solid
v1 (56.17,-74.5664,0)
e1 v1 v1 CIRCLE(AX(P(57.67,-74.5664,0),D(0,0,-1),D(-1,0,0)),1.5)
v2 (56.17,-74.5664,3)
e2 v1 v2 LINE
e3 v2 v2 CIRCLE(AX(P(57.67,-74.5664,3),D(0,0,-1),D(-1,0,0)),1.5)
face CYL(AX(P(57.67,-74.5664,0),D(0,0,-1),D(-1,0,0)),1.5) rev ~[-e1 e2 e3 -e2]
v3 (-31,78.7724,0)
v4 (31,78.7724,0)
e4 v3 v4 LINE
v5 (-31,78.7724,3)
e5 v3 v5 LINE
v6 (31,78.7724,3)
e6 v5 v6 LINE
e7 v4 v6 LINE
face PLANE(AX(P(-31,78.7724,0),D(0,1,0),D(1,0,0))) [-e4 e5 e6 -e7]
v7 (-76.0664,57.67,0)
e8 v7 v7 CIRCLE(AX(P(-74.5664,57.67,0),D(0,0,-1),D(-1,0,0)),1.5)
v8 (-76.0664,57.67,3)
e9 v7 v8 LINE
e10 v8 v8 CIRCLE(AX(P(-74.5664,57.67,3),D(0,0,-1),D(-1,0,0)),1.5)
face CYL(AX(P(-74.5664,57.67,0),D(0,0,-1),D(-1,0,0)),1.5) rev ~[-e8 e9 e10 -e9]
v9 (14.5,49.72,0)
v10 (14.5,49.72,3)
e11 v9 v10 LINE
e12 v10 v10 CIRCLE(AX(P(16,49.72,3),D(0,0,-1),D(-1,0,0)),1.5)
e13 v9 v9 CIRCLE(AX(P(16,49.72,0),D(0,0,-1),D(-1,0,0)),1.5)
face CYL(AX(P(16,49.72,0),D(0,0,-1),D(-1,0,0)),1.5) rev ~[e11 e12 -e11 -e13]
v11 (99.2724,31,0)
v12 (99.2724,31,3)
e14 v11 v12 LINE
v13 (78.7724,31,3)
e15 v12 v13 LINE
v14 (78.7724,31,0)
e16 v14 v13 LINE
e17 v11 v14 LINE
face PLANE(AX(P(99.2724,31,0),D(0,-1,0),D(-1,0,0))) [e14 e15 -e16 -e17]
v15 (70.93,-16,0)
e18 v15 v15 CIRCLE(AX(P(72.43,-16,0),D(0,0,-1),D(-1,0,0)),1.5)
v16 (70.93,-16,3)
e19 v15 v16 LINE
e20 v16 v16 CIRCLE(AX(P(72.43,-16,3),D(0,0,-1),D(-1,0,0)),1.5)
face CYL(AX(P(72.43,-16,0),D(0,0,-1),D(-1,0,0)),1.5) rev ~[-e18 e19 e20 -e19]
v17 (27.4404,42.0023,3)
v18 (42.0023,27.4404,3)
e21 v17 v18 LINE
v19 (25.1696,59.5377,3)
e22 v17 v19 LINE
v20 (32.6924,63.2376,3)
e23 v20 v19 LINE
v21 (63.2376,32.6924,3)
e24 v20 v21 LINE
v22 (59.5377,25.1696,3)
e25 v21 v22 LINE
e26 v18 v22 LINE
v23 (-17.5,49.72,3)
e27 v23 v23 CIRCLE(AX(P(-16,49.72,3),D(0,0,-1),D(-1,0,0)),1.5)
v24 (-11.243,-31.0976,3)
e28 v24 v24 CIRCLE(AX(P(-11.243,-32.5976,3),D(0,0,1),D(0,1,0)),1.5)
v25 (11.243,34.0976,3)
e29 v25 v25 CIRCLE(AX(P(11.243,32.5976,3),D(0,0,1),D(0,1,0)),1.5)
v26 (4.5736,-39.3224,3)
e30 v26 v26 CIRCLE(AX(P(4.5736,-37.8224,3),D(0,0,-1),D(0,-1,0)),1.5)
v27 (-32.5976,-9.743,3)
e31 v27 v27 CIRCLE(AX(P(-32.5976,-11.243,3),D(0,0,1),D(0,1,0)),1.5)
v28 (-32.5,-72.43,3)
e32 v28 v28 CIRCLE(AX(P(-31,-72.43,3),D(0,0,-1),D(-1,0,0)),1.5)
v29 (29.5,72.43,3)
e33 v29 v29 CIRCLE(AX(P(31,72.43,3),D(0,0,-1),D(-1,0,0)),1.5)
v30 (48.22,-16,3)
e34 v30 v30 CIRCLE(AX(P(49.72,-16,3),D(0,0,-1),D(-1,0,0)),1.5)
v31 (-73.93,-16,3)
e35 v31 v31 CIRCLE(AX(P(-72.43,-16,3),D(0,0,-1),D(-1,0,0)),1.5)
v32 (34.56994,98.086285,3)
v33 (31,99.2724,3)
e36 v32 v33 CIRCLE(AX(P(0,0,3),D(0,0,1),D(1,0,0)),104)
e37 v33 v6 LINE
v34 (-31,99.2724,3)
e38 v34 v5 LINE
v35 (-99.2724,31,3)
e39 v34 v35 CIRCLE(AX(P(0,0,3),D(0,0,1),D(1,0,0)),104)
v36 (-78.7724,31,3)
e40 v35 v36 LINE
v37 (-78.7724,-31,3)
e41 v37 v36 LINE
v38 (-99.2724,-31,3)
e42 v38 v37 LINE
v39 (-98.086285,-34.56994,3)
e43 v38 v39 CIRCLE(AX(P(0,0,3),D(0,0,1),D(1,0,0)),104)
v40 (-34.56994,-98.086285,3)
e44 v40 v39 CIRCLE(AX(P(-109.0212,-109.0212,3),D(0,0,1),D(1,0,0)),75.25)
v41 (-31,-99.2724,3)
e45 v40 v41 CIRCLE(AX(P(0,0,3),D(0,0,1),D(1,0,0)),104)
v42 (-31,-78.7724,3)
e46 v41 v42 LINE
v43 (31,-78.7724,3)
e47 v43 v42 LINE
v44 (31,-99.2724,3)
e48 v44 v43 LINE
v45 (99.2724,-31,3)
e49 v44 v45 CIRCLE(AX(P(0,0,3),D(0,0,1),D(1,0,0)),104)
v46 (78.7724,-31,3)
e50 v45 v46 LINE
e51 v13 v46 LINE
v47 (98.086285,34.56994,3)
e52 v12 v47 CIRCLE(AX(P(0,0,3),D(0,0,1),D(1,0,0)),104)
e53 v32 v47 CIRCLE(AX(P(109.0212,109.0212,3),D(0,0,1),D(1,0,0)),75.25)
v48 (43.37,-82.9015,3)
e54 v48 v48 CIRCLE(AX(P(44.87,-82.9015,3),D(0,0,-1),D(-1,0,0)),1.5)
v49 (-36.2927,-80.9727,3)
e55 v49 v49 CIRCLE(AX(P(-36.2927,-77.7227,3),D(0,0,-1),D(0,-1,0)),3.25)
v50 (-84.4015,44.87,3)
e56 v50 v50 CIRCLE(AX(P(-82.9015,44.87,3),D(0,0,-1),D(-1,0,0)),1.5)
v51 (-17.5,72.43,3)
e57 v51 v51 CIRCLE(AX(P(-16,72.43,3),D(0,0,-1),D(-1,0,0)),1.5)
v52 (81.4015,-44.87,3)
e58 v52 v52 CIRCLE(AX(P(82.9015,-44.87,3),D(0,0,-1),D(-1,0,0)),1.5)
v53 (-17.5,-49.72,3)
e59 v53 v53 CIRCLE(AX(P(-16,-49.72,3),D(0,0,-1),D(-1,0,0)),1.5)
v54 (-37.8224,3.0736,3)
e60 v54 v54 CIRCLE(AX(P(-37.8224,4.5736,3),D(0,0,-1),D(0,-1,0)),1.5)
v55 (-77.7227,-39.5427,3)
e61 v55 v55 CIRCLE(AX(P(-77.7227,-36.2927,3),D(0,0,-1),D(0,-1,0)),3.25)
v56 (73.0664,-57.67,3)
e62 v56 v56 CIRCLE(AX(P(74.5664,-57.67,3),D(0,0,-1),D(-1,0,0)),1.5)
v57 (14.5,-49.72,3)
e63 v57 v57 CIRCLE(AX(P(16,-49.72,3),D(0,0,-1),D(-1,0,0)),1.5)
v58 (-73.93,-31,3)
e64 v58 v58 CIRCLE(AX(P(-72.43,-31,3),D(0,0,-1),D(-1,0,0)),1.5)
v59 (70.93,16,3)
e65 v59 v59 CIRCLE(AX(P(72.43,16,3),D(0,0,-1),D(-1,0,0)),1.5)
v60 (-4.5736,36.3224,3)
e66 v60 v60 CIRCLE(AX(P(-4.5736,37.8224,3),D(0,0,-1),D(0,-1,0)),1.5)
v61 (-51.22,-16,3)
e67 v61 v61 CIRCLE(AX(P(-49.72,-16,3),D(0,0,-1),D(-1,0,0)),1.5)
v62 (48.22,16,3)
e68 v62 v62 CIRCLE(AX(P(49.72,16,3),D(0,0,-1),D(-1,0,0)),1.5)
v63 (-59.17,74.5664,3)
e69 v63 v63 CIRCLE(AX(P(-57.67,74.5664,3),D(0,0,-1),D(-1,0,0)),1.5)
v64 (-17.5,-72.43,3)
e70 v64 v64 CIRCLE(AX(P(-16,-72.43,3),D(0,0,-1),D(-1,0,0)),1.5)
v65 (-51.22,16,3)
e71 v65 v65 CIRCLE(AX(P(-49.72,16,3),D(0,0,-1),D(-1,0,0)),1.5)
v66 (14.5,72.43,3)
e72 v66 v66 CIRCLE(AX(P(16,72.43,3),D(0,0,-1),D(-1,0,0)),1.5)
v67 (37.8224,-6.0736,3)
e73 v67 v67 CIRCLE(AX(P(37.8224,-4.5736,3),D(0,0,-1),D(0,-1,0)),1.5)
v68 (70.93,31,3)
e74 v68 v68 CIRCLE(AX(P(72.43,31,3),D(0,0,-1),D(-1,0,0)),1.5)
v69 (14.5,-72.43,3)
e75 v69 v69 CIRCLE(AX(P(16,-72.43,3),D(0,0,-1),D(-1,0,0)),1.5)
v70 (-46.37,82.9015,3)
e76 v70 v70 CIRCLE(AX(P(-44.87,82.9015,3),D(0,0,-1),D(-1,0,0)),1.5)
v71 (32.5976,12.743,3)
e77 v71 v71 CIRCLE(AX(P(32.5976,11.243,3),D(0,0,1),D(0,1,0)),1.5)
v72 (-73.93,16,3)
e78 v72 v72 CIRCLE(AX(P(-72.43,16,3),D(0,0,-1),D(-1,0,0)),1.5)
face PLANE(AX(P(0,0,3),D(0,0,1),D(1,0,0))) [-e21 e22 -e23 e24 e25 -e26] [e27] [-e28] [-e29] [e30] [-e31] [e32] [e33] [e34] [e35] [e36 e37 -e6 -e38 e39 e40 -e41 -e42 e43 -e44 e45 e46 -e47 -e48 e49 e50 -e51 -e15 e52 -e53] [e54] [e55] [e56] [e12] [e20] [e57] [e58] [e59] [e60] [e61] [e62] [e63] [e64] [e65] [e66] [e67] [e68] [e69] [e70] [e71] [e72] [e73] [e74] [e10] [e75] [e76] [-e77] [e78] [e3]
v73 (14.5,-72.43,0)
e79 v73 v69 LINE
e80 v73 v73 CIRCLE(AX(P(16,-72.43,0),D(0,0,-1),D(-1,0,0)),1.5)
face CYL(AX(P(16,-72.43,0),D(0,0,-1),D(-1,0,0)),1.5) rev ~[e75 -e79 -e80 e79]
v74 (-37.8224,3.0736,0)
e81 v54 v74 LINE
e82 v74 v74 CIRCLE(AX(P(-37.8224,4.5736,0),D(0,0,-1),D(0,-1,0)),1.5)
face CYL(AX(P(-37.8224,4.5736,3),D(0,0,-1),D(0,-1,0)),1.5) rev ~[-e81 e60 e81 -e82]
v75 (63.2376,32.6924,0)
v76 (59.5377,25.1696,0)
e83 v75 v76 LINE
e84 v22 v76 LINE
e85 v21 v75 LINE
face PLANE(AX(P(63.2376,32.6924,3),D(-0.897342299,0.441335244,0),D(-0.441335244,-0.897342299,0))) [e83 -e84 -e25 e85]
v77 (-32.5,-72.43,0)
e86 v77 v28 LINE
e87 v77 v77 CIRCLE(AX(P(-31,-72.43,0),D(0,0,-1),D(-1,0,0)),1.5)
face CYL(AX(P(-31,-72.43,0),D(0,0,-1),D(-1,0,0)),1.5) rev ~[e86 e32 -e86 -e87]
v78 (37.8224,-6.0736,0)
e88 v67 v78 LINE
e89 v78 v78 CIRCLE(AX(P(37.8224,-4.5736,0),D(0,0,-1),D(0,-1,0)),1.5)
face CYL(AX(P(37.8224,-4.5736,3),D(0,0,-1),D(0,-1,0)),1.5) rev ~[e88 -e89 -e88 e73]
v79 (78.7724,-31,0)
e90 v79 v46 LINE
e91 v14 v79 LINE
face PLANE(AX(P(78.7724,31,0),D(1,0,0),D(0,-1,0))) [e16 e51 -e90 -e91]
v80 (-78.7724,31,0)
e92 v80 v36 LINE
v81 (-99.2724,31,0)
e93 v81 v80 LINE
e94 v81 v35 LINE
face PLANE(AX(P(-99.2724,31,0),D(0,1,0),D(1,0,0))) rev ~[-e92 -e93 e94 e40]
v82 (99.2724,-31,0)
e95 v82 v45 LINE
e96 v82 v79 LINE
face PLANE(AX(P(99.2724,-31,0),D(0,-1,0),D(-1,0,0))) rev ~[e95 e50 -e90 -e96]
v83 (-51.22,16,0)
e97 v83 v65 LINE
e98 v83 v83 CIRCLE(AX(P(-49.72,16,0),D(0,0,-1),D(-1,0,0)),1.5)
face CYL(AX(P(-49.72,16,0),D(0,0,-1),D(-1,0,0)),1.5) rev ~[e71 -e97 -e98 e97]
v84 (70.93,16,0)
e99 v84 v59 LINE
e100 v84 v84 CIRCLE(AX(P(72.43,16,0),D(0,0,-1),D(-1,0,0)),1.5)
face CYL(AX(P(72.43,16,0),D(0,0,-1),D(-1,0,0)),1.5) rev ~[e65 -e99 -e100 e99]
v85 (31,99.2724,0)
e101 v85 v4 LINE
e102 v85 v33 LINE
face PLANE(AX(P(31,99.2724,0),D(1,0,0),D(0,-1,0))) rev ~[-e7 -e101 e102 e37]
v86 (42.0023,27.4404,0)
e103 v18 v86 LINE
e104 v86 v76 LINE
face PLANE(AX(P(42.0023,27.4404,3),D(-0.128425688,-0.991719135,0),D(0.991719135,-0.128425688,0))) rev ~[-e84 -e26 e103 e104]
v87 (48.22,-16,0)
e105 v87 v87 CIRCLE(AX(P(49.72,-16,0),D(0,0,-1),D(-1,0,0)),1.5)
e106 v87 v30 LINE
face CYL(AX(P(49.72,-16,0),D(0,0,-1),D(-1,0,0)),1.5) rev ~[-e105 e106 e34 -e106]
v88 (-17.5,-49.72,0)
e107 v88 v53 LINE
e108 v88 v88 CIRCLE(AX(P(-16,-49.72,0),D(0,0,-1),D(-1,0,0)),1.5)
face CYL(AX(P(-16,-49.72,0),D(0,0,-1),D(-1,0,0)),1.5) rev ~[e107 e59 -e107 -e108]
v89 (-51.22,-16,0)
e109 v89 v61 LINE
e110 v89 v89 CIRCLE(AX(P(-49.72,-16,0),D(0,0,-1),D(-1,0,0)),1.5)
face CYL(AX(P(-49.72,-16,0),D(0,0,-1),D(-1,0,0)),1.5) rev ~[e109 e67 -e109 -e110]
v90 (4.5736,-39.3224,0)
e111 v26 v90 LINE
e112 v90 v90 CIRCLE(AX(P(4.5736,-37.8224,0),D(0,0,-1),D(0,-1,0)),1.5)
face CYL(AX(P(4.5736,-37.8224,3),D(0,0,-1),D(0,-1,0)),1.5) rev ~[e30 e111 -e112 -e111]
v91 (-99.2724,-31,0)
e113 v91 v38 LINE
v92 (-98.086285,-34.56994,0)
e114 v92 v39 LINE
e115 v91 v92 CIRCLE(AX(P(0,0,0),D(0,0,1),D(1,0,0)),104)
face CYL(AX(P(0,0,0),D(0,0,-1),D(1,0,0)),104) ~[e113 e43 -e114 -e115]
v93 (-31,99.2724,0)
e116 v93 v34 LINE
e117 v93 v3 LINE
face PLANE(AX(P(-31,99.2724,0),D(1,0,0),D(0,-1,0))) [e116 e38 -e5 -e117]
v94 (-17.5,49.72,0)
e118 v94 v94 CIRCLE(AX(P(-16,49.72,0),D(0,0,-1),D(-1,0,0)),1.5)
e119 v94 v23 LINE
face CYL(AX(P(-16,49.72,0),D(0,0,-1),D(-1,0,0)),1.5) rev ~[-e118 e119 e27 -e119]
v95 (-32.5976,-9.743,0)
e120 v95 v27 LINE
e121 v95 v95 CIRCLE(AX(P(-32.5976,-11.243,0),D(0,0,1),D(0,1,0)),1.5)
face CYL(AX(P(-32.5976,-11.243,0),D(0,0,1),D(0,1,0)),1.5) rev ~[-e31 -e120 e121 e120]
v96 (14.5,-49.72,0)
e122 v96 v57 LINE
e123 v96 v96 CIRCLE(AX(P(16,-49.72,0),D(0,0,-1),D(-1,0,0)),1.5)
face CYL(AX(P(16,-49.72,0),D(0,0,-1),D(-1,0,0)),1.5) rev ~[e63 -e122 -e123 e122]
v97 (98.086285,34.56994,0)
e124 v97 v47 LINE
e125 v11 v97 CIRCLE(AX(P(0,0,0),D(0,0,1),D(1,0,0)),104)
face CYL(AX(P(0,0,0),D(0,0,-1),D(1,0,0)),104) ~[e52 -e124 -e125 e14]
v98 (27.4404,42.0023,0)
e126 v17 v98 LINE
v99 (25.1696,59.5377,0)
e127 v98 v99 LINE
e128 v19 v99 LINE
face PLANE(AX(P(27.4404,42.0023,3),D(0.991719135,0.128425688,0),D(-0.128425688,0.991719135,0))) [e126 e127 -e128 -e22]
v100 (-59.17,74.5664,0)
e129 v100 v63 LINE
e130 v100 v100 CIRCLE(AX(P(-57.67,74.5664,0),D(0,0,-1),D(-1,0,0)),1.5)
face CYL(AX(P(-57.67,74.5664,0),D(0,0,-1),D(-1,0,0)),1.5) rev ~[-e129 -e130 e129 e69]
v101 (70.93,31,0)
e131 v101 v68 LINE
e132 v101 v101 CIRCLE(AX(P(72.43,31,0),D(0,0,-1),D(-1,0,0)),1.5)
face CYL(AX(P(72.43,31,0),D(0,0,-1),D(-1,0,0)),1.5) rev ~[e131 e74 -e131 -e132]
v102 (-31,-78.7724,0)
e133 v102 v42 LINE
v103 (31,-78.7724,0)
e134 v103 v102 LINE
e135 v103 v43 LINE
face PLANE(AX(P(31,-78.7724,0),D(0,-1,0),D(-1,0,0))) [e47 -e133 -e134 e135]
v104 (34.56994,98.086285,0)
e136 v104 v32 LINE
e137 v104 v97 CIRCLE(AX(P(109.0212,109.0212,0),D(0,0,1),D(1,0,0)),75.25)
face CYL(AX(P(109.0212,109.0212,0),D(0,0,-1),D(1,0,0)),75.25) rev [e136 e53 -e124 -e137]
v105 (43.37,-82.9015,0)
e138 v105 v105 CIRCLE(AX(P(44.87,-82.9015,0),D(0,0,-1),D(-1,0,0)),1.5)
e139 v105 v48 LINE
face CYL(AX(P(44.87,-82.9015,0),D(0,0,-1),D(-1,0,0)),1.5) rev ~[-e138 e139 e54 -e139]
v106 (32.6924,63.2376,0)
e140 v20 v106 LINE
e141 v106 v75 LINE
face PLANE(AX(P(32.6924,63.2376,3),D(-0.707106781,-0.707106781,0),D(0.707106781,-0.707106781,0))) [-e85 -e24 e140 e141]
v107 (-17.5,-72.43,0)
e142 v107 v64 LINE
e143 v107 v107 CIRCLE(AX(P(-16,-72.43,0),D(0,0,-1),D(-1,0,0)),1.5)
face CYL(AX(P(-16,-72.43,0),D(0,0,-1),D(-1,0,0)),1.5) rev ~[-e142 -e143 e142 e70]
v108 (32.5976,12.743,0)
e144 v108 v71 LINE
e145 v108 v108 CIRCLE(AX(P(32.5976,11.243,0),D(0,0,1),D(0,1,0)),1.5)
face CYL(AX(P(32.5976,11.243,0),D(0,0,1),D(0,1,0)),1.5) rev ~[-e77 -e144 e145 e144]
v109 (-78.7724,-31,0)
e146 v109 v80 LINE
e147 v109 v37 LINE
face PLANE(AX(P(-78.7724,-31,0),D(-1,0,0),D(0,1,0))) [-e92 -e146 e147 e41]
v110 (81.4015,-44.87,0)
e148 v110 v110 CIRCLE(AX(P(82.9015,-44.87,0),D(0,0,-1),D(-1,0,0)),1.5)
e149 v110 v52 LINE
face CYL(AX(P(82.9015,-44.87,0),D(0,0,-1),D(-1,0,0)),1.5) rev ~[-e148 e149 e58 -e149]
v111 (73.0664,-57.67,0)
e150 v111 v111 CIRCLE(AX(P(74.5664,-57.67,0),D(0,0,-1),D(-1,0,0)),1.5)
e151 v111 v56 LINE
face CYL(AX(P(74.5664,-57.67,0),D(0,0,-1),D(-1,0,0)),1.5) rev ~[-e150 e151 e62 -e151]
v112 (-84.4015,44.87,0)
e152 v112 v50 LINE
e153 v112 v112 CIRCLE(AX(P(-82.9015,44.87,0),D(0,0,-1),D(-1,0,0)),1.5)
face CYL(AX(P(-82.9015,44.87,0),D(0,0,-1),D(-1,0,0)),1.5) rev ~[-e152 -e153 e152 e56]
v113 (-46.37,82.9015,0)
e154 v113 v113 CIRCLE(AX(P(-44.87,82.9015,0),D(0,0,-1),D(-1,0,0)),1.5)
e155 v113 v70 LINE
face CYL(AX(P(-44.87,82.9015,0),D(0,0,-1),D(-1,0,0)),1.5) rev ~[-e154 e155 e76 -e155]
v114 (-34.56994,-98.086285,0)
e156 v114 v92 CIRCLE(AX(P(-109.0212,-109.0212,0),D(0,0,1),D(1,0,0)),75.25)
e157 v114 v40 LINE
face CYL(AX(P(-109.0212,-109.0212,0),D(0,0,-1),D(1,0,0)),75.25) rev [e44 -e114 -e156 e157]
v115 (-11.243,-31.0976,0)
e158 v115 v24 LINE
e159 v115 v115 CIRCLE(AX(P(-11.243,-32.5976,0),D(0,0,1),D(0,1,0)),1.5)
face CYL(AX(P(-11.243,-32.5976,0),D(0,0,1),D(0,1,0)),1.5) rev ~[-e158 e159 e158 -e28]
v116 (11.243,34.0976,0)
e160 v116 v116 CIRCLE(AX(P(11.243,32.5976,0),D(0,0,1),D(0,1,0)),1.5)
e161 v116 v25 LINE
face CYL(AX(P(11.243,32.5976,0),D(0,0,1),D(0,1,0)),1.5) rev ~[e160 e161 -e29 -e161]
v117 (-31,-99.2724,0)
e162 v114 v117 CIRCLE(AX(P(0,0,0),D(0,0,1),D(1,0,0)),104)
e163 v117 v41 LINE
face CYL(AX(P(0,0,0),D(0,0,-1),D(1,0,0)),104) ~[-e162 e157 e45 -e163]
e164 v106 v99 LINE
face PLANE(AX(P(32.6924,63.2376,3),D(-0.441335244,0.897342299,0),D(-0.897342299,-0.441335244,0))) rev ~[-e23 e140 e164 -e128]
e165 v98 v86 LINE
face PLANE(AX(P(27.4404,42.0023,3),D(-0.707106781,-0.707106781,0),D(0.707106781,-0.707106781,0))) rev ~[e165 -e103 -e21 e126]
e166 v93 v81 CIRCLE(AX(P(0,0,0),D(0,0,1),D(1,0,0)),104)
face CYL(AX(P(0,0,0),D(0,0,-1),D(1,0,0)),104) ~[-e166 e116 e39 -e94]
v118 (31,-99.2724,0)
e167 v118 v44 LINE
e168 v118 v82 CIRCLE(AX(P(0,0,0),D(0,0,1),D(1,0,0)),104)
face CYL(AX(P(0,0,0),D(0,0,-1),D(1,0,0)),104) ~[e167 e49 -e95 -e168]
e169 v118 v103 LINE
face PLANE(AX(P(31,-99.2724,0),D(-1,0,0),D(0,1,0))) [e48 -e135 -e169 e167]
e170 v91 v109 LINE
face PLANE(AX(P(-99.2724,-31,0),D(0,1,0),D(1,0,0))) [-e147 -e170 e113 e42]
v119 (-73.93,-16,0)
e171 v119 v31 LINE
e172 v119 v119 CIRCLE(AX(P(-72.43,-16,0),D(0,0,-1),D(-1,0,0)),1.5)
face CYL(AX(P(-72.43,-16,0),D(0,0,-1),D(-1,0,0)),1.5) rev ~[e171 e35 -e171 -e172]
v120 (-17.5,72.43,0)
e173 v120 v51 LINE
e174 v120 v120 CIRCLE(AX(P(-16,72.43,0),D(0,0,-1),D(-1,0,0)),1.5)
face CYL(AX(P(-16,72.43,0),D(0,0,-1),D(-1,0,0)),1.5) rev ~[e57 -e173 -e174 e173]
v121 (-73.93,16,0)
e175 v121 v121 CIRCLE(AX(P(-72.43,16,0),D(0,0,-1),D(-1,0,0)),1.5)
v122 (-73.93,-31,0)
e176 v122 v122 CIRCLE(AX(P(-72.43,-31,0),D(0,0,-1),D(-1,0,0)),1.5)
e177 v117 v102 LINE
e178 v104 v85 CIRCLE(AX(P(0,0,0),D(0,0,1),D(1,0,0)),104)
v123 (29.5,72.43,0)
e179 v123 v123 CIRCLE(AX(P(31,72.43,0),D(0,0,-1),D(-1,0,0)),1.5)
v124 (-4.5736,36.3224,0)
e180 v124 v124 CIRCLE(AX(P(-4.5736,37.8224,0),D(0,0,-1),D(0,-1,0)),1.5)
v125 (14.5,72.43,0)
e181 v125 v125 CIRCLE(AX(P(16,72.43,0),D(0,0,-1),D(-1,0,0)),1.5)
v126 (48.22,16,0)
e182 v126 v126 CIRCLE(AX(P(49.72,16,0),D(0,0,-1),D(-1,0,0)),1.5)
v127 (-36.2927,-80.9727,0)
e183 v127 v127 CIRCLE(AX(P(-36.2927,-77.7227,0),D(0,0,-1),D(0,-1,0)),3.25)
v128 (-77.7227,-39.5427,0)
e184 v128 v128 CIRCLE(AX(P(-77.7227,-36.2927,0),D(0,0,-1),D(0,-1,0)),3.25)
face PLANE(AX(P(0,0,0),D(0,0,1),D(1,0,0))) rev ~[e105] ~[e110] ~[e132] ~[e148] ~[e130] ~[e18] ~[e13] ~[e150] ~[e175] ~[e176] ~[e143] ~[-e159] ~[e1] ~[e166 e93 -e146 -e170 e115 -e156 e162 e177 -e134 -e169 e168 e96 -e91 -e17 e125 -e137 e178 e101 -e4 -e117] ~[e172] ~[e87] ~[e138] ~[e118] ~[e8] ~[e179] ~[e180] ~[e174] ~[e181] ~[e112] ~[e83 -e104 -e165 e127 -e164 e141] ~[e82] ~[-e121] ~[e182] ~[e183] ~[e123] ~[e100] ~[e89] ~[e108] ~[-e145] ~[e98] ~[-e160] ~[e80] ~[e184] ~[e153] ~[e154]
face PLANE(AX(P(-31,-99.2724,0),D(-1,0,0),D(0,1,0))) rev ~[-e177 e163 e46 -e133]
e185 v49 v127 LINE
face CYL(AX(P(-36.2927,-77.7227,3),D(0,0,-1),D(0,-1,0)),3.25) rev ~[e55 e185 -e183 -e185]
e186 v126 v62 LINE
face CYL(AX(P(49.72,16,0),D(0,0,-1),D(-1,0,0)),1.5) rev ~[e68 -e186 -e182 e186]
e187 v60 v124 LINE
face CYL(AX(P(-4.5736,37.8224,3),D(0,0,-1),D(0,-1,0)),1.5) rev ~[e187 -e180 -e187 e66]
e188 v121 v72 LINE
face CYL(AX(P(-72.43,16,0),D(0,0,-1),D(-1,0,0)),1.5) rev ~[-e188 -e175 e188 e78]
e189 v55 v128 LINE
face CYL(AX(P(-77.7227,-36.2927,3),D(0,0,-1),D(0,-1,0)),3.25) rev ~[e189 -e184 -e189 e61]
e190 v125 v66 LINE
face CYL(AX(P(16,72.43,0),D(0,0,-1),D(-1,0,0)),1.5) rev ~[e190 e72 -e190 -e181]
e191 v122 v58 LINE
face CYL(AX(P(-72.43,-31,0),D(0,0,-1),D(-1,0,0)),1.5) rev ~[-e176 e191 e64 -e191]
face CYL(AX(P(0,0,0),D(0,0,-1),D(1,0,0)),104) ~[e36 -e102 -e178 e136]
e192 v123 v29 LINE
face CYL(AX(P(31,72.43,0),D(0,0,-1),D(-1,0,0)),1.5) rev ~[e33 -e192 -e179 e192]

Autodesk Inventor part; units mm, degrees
ref_plane "YZ Plane" through (0, 0, 0) normal (1, 0, 0) x (0, 1, 0)
ref_plane "XZ Plane" through (0, 0, 0) normal (0, 1, 0) x (-1, 0, 0)
ref_plane "XY Plane" through (0, 0, 0) normal (0, 0, 1) x (1, 0, 0)
sketch "Эскиз2" plane through (0, 0, 0) normal (0, 0, 1) x (1, 0, 0)
  circle A0 centre (0, 0) radius 107.5
  circle A1 centre (0, 0) radius 104
  line L0 (-99.2724, 31) -> (-78.7724, 31)
  line L1 (-99.2724, -31) -> (-78.7724, -31)
  line L2 (-31, 99.2724) -> (-31, 78.7724)
  line L3 (31, 99.2724) -> (31, 78.7724)
  line L4 (99.2724, 31) -> (78.7724, 31)
  line L5 (99.2724, -31) -> (78.7724, -31)
  line L6 (31, -99.2724) -> (31, -78.7724)
  line L7 (-31, -99.2724) -> (-31, -78.7724)
  line L8 (-78.7724, -31) -> (-78.7724, 31)
  line L9 (-31, 78.7724) -> (31, 78.7724)
  line L10 (78.7724, 31) -> (78.7724, -31)
  line L11 (31, -78.7724) -> (-31, -78.7724)
  circle A2 centre (-109.0212, -109.0212) radius 75.25
  line L12 (-31, 78.7724) -> (78.7724, -31) construction
  line L13 (-73.5391, 73.5391) -> (73.5391, -73.5391) construction
  circle A3 centre (109.0212, 109.0212) radius 75.25
  point P0 (-98.0863, -34.57)
  point P1 (-34.57, -98.0863)
  point P2 (98.0863, 34.57)
  point P3 (34.57, 98.0863)
  dimension "d1" = 208
  dimension "d0" = 215
  dimension "d8" = 20.5
  dimension "d9" = 31
  dimension "d10" = 31
  dimension "d11" = 31
  dimension "d12" = 31
  dimension "d13" = 31
  dimension "d14" = 31
  dimension "d15" = 31
  dimension "d16" = 31
  dimension "d17" = 150.5
  dimension "d18" = 3.57
  dimension "d19" = 3.57
extrude "Выдавливание1" add sketch "Эскиз2" along normal blind 3 contours A1 L4 L10 L5 L6 L11 L7 A2 L1 L8 L0 L2 L9 L3 A3
sketch "Эскиз3" plane through (0, 0, 0) normal (0, 0, -1) x (-1, 0, 0)
  line L0 (-78.7724, -31) -> (-78.7724, 31) projected
  line L1 (-78.7724, 16) -> (78.7724, 16) construction
  line L2 (78.7724, 31) -> (78.7724, -31) projected
  line L3 (-31, 78.7724) -> (31, 78.7724) projected
  line L4 (31, -78.7724) -> (-31, -78.7724) projected
  line L5 (-16, -78.7724) -> (-16, 78.7724) construction
  line L6 (0, 0) -> (0, 78.7724) construction
  line L7 (0, 0) -> (78.7724, 0) construction
  line L8 (-78.7724, -16) -> (78.7724, -16) construction
  line L9 (16, -78.7724) -> (16, 78.7724) construction
  circle A0 centre (-49.72, 16) radius 1.5
  circle A1 centre (-49.72, -16) radius 1.5
  circle A2 centre (-16, 49.72) radius 1.5
  circle A3 centre (16, 49.72) radius 1.5
  circle A4 centre (49.72, 16) radius 1.5
  circle A5 centre (49.72, -16) radius 1.5
  line L10 (-49.72, 49.72) -> (49.72, 49.72) construction
  line L11 (49.72, 49.72) -> (49.72, -49.72) construction
  line L12 (49.72, -49.72) -> (-49.72, -49.72) construction
  line L13 (-49.72, -49.72) -> (-49.72, 49.72) construction
  line L14 (-49.72, 49.72) -> (49.72, -49.72) construction
  circle A6 centre (-16, -49.72) radius 1.5
  circle A7 centre (16, -49.72) radius 1.5
  line L15 (-72.43, 72.43) -> (72.43, 72.43) construction
  line L16 (72.43, 72.43) -> (72.43, -72.43) construction
  line L17 (72.43, -72.43) -> (-72.43, -72.43) construction
  line L18 (-72.43, -72.43) -> (-72.43, 72.43) construction
  line L19 (-72.43, 72.43) -> (72.43, -72.43) construction
  circle A8 centre (-72.43, 16) radius 1.5
  circle A9 centre (-72.43, -16) radius 1.5
  circle A10 centre (-16, 72.43) radius 1.5
  circle A11 centre (16, 72.43) radius 1.5
  circle A12 centre (72.43, 16) radius 1.5
  circle A13 centre (72.43, -16) radius 1.5
  circle A14 centre (16, -72.43) radius 1.5
  circle A15 centre (-16, -72.43) radius 1.5
  circle A16 centre (-72.43, 31) radius 1.5
  circle A17 centre (-31, 72.43) radius 1.5
  circle A18 centre (31, -72.43) radius 1.5
  circle A19 centre (72.43, -31) radius 1.5
  line L20 (-99.2724, -31) -> (-78.7724, -31) projected
  line L21 (-31, -78.7724) -> (-31, -99.2724) projected
  arc A20 (-89.0224, -31) -> (-31, -89.0224) centre (0, 0) ccw construction
  arc A21 (89.0224, 31) -> (31, 89.0224) centre (0, 0) ccw construction
  circle A22 centre (-57.67, -74.5664) radius 1.5
  line L22 (-72.43, -72.43) -> (72.43, 72.43) construction
  circle A23 centre (-74.5664, -57.67) radius 1.5
  circle A24 centre (-44.87, -82.9015) radius 1.5
  circle A25 centre (-82.9015, -44.87) radius 1.5
  circle A26 centre (74.5664, 57.67) radius 1.5
  circle A27 centre (57.67, 74.5664) radius 1.5
  circle A28 centre (82.9015, 44.87) radius 1.5
  circle A29 centre (44.87, 82.9015) radius 1.5
  dimension "d22" = 16
  dimension "d23" = 16
  dimension "d25" = 99.44
  dimension "d26" = 3
  dimension "d27" = 144.86
  dimension "d28" = 3
  dimension "d29" = 3
  dimension "d30" = 15
  dimension "d31" = 15
  dimension "d32" = 15
  dimension "d33" = 15
  dimension "d35" = 26.67
  dimension "d36" = 13.87
  dimension "d37" = 3
extrude "Выдавливание2" cut sketch "Эскиз3" against normal blind 3
sketch "Эскиз5" plane through (0, 0, 3) normal (0, 0, 1) x (1, 0, 0)
  circle A0 centre (16, -72.43) radius 1.5 projected
  circle A1 centre (16, -49.72) radius 1.5 projected
  circle A2 centre (49.72, -16) radius 1.5 projected
  circle A3 centre (49.72, 16) radius 1.5 projected
  circle A4 centre (72.43, 31) radius 1.5 projected
  circle A5 centre (-44.87, 82.9015) radius 1.5 projected
  circle A6 centre (57.67, -74.5664) radius 1.5 projected
  circle A7 centre (31, 72.43) radius 1.5 projected
  circle A8 centre (-57.67, 74.5664) radius 1.5 projected
  circle A9 centre (72.43, 16) radius 1.5 projected
  circle A10 centre (-49.72, 16) radius 1.5 projected
  circle A11 centre (-49.72, -16) radius 1.5 projected
  circle A12 centre (-16, -49.72) radius 1.5 projected
  circle A13 centre (74.5664, -57.67) radius 1.5 projected
  circle A14 centre (-16, -72.43) radius 1.5 projected
  circle A15 centre (-72.43, -31) radius 1.5 projected
  circle A16 centre (72.43, -16) radius 1.5 projected
  circle A17 centre (16, 49.72) radius 1.5 projected
  circle A18 centre (-82.9015, 44.87) radius 1.5 projected
  circle A19 centre (-16, 72.43) radius 1.5 projected
  circle A20 centre (44.87, -82.9015) radius 1.5 projected
  circle A21 centre (16, 72.43) radius 1.5 projected
  circle A22 centre (-74.5664, 57.67) radius 1.5 projected
  circle A23 centre (-16, 49.72) radius 1.5 projected
  circle A24 centre (-72.43, 16) radius 1.5 projected
  circle A25 centre (-72.43, -16) radius 1.5 projected
  circle A26 centre (-31, -72.43) radius 1.5 projected
  circle A27 centre (82.9015, -44.87) radius 1.5 projected
  arc A28 (-34.57, -98.0863) -> (-98.0863, -34.57) centre (-109.0212, -109.0212) ccw projected
  arc A29 (-34.57, -98.0863) -> (-31, -99.2724) centre (0, 0) ccw projected
  line L0 (-31, -99.2724) -> (-31, -78.7724) projected
  line L1 (-31, -78.7724) -> (31, -78.7724) projected
  line L2 (31, -78.7724) -> (31, -99.2724) projected
  arc A30 (31, -99.2724) -> (99.2724, -31) centre (0, 0) ccw projected
  line L3 (99.2724, -31) -> (78.7724, -31) projected
  line L4 (78.7724, -31) -> (78.7724, 31) projected
  line L5 (78.7724, 31) -> (99.2724, 31) projected
  arc A31 (99.2724, 31) -> (98.0863, 34.57) centre (0, 0) ccw projected
  arc A32 (34.57, 98.0863) -> (98.0863, 34.57) centre (109.0212, 109.0212) ccw projected
  arc A33 (34.57, 98.0863) -> (31, 99.2724) centre (0, 0) ccw projected
  line L6 (31, 99.2724) -> (31, 78.7724) projected
  line L7 (31, 78.7724) -> (-31, 78.7724) projected
  line L8 (-31, 78.7724) -> (-31, 99.2724) projected
  arc A34 (-31, 99.2724) -> (-99.2724, 31) centre (0, 0) ccw projected
  line L9 (-99.2724, 31) -> (-78.7724, 31) projected
  line L10 (-78.7724, 31) -> (-78.7724, -31) projected
  line L11 (-78.7724, -31) -> (-99.2724, -31) projected
  arc A35 (-99.2724, -31) -> (-98.0863, -34.57) centre (0, 0) ccw projected
  arc A36 (-31, 99.2724) -> (-99.2724, 31) centre (0, 0) ccw projected
  arc A37 (-31, 99.2724) -> (-99.2724, 31) centre (0, 0) ccw
  arc A38 (31, -99.2724) -> (99.2724, -31) centre (0, 0) ccw projected
  arc A39 (31, -99.2724) -> (99.2724, -31) centre (0, 0) ccw
  arc A40 (-34.57, -98.0863) -> (-98.0863, -34.57) centre (-109.0212, -109.0212) ccw projected
  arc A41 (-34.57, -98.0863) -> (-98.0863, -34.57) centre (-109.0212, -109.0212) ccw
  arc A42 (34.57, 98.0863) -> (98.0863, 34.57) centre (109.0212, 109.0212) ccw projected
  arc A43 (34.57, 98.0863) -> (98.0863, 34.57) centre (109.0212, 109.0212) ccw
  arc A44 (34.57, 98.0863) -> (31, 99.2724) centre (0, 0) ccw projected
  arc A45 (34.57, 98.0863) -> (31, 99.2724) centre (0, 0) ccw
  arc A46 (99.2724, 31) -> (98.0863, 34.57) centre (0, 0) ccw projected
  arc A47 (99.2724, 31) -> (98.0863, 34.57) centre (0, 0) ccw
  arc A48 (-34.57, -98.0863) -> (-31, -99.2724) centre (0, 0) ccw projected
  arc A49 (-34.57, -98.0863) -> (-31, -99.2724) centre (0, 0) ccw
  arc A50 (-99.2724, -31) -> (-98.0863, -34.57) centre (0, 0) ccw projected
  arc A51 (-99.2724, -31) -> (-98.0863, -34.57) centre (0, 0) ccw
  line L12 (-99.2724, 31) -> (-78.7724, 31) projected
  line L13 (-99.2724, 31) -> (-78.7724, 31)
  line L14 (-78.7724, 31) -> (-78.7724, -31) projected
  line L15 (-78.7724, 31) -> (-78.7724, -31)
  line L16 (-78.7724, -31) -> (-99.2724, -31)
  line L17 (-78.7724, -31) -> (-99.2724, -31) projected
  line L18 (-78.7724, -31) -> (-99.2724, -31)
  line L19 (-31, 78.7724) -> (-31, 99.2724) projected
  line L20 (-31, 99.2724) -> (-31, 78.7724)
  line L21 (31, 78.7724) -> (-31, 78.7724) projected
  line L22 (-31, 78.7724) -> (31, 78.7724)
  line L23 (31, 99.2724) -> (31, 78.7724) projected
  line L24 (31, 78.7724) -> (31, 99.2724)
  line L25 (78.7724, 31) -> (99.2724, 31) projected
  line L26 (99.2724, 31) -> (78.7724, 31)
  line L27 (78.7724, -31) -> (78.7724, 31) projected
  line L28 (78.7724, 31) -> (78.7724, -31)
  line L29 (99.2724, -31) -> (78.7724, -31) projected
  line L30 (78.7724, -31) -> (99.2724, -31)
  line L31 (-31, -99.2724) -> (-31, -78.7724) projected
  line L32 (-31, -99.2724) -> (-31, -78.7724)
  line L33 (-31, -78.7724) -> (31, -78.7724) projected
  line L34 (-31, -78.7724) -> (31, -78.7724)
  line L35 (31, -78.7724) -> (31, -99.2724)
  circle A52 centre (-49.72, 16) radius 1.5
  circle A53 centre (-72.43, 16) radius 1.5
  circle A54 centre (-49.72, -16) radius 1.5
  circle A55 centre (-72.43, -16) radius 1.5
  circle A56 centre (-72.43, -31) radius 1.5
  circle A57 centre (-16, -49.72) radius 1.5 projected
  circle A58 centre (-16, -49.72) radius 1.5
  circle A59 centre (-31, -72.43) radius 1.5 projected
  circle A60 centre (-31, -72.43) radius 1.5
  circle A61 centre (-16, -72.43) radius 1.5
  circle A62 centre (16, -72.43) radius 1.5 projected
  circle A63 centre (16, -72.43) radius 1.5
  circle A64 centre (44.87, -82.9015) radius 1.5
  circle A65 centre (57.67, -74.5664) radius 1.5
  circle A66 centre (16, -49.72) radius 1.5
  circle A67 centre (74.5664, -57.67) radius 1.5
  circle A68 centre (82.9015, -44.87) radius 1.5
  circle A69 centre (49.72, -16) radius 1.5
  circle A70 centre (72.43, -16) radius 1.5
  circle A71 centre (72.43, 16) radius 1.5
  circle A72 centre (49.72, 16) radius 1.5
  circle A73 centre (72.43, 31) radius 1.5
  circle A74 centre (31, 72.43) radius 1.5
  circle A75 centre (16, 72.43) radius 1.5
  circle A76 centre (16, 49.72) radius 1.5
  circle A77 centre (-16, 49.72) radius 1.5
  circle A78 centre (-16, 72.43) radius 1.5
  circle A79 centre (-44.87, 82.9015) radius 1.5
  circle A80 centre (-57.67, 74.5664) radius 1.5
  circle A81 centre (-74.5664, 57.67) radius 1.5
  circle A82 centre (-82.9015, 44.87) radius 1.5
hole "Отверстие1" at (0, 0, 3) direction (0, 0, -1) diameter 40 end through all
sketch "Эскиз8" plane through (0, 0, 3) normal (0, 0, 1) x (1, 0, 0)
  circle A0 centre (-48.1257, 27.2915) radius 1.397 construction
  circle A1 centre (-27.2915, 48.1257) radius 1.397 construction
  line L0 (-48.3138, 22.4528) -> (-22.4528, 48.3138)
  line L1 (-22.4528, 48.3138) -> (-54.5982, 80.4592)
  line L2 (-54.5982, 80.4592) -> (-80.4592, 54.5982)
  line L3 (-80.4592, 54.5982) -> (-48.3138, 22.4528)
  line L4 (-27.2915, 48.1257) -> (-48.1257, 27.2915) construction
  line L5 (-37.7086, 37.7086) -> (-35.3833, 35.3833) construction
  arc A2 (-31, 99.2724) -> (-99.2724, 31) centre (0, 0) ccw construction
  line L6 (0, 0) -> (-5, 0) construction
  line L7 (-5, 0) -> (-5, 5) construction
  line L8 (-5, 5) -> (0, 5) construction
  line L9 (0, 5) -> (0, 0) construction
  line L10 (0, 0) -> (-5, 5) construction
  line L11 (84.4993, -56.9221) -> (56.9221, -84.4993)
  line L12 (56.9221, -84.4993) -> (18.0312, -45.6084)
  line L13 (18.0312, -45.6084) -> (45.6084, -18.0312)
  line L14 (45.6084, -18.0312) -> (84.4993, -56.9221)
  line L15 (31.8198, -31.8198) -> (70.7107, -70.7107) construction
  arc A3 (31, -99.2724) -> (99.2724, -31) centre (0, 0) ccw construction
  circle A4 centre (53.033, -67.8823) radius 1.6
  circle A5 centre (31.2924, -37.2462) radius 1.6
  circle A6 centre (16, -49.72) radius 1.5 projected
  circle A7 centre (16, -49.72) radius 1.5 projected
  circle A8 centre (16, -49.72) radius 3 construction
  point P0 (-73.5391, 73.5391)
  point P1 (73.5391, -73.5391)
  dimension "d47" = 45.4604
  dimension "d48" = 36.573
  dimension "d49" = 2.794
  dimension "d50" = 29.464
  dimension "d52" = 5
  dimension "d53" = 5
  dimension "d54" = 3.2884
  dimension "d55" = 8.5
  dimension "d58" = 39
  dimension "d62" = 4
  dimension "d79" = 55
  dimension "d80" = 6
sketch "Эскиз10" plane through (0, 0, 3) normal (0, 0, 1) x (1, 0, 0)
  point P0 (0, 0)
sketch "Эскиз11" plane through (0, 0, 3) normal (0, 0, 1) x (1, 0, 0)
  circle A0 centre (0, 0) radius 20 projected
  circle A1 centre (16, -72.43) radius 1.5 projected
  circle A2 centre (16, -49.72) radius 1.5 projected
  circle A3 centre (49.72, -16) radius 1.5 projected
  circle A4 centre (49.72, 16) radius 1.5 projected
  circle A5 centre (72.43, 31) radius 1.5 projected
  circle A6 centre (-44.87, 82.9015) radius 1.5 projected
  circle A7 centre (31, 72.43) radius 1.5 projected
  circle A8 centre (72.43, 16) radius 1.5 projected
  circle A9 centre (-49.72, 16) radius 1.5 projected
  circle A10 centre (-49.72, -16) radius 1.5 projected
  circle A11 centre (-16, -49.72) radius 1.5 projected
  circle A12 centre (-16, -72.43) radius 1.5 projected
  circle A13 centre (-72.43, -31) radius 1.5 projected
  circle A14 centre (72.43, -16) radius 1.5 projected
  circle A15 centre (16, 49.72) radius 1.5 projected
  circle A16 centre (-82.9015, 44.87) radius 1.5 projected
  circle A17 centre (-16, 72.43) radius 1.5 projected
  circle A18 centre (44.87, -82.9015) radius 1.5 projected
  circle A19 centre (16, 72.43) radius 1.5 projected
  circle A20 centre (-16, 49.72) radius 1.5 projected
  circle A21 centre (-72.43, 16) radius 1.5 projected
  circle A22 centre (-72.43, -16) radius 1.5 projected
  circle A23 centre (-31, -72.43) radius 1.5 projected
  circle A24 centre (82.9015, -44.87) radius 1.5 projected
  arc A25 (-34.57, -98.0863) -> (-98.0863, -34.57) centre (-109.0212, -109.0212) ccw projected
  arc A26 (-34.57, -98.0863) -> (-31, -99.2724) centre (0, 0) ccw projected
  line L0 (-31, -99.2724) -> (-31, -78.7724) projected
  line L1 (-31, -78.7724) -> (31, -78.7724) projected
  line L2 (31, -78.7724) -> (31, -99.2724) projected
  arc A27 (31, -99.2724) -> (99.2724, -31) centre (0, 0) ccw projected
  line L3 (99.2724, -31) -> (78.7724, -31) projected
  line L4 (78.7724, -31) -> (78.7724, 31) projected
  line L5 (78.7724, 31) -> (99.2724, 31) projected
  arc A28 (99.2724, 31) -> (98.0863, 34.57) centre (0, 0) ccw projected
  arc A29 (34.57, 98.0863) -> (98.0863, 34.57) centre (109.0212, 109.0212) ccw projected
  arc A30 (34.57, 98.0863) -> (31, 99.2724) centre (0, 0) ccw projected
  line L6 (31, 99.2724) -> (31, 78.7724) projected
  line L7 (31, 78.7724) -> (-31, 78.7724) projected
  line L8 (-31, 78.7724) -> (-31, 99.2724) projected
  arc A31 (-31, 99.2724) -> (-99.2724, 31) centre (0, 0) ccw projected
  line L9 (-99.2724, 31) -> (-78.7724, 31) projected
  line L10 (-78.7724, 31) -> (-78.7724, -31) projected
  line L11 (-78.7724, -31) -> (-99.2724, -31) projected
  arc A32 (-99.2724, -31) -> (-98.0863, -34.57) centre (0, 0) ccw projected
  circle A33 centre (-27.2915, 48.1257) radius 1.397 construction
  circle A34 centre (-48.1257, 27.2915) radius 1.397 construction
  circle A35 centre (-27.2915, 48.1257) radius 1.397
  circle A36 centre (-48.1257, 27.2915) radius 1.397
  circle A37 centre (31.2924, -37.2462) radius 1.6 projected
  circle A38 centre (53.033, -67.8823) radius 1.6 projected
sketch "Эскиз12" plane through (0, 0, 3) normal (0, 0, 1) x (1, 0, 0)
  circle A0 centre (-72.43, -31) radius 3.3 construction
  circle A1 centre (-72.43, -16) radius 3.3 construction
  circle A2 centre (-31, -72.43) radius 3.3 construction
  circle A3 centre (-16, -72.43) radius 3.3 construction
  line L0 (-72.43, -31) -> (-72.43, -16) construction
  line L1 (-31, -72.43) -> (-16, -72.43) construction
  line L2 (-32.6924, -63.2376) -> (-63.2376, -32.6924)
  circle A4 centre (-16, -42.22) radius 3.3 construction
  circle A5 centre (-42.22, -16) radius 3.3 construction
  line L3 (-16, -42.22) -> (-42.22, -16) construction
  line L4 (-42.0023, -27.4404) -> (-59.5377, -25.1696)
  line L5 (-27.4404, -42.0023) -> (-25.1696, -59.5377)
  line L6 (-63.2376, -32.6924) -> (-59.5377, -25.1696) construction
  line L7 (-32.6924, -63.2376) -> (-25.1696, -59.5377) construction
  line L8 (-27.4404, -42.0023) -> (-42.0023, -27.4404) construction
  line L9 (-27.4404, -42.0023) -> (-42.0023, -27.4404)
  line L10 (-59.5377, -25.1696) -> (-63.2376, -32.6924)
  line L11 (-32.6924, -63.2376) -> (-25.1696, -59.5377)
  line L12 (32.6924, 63.2376) -> (63.2376, 32.6924)
  line L13 (42.0023, 27.4404) -> (59.5377, 25.1696)
  line L14 (63.2376, 32.6924) -> (59.5377, 25.1696)
  line L15 (32.6924, 63.2376) -> (25.1696, 59.5377)
  line L16 (27.4404, 42.0023) -> (25.1696, 59.5377)
  line L17 (27.4404, 42.0023) -> (42.0023, 27.4404)
  point P0 (0, 0)
  point P1 (0, 0)
  point P2 (-23.5, -72.43)
  point P3 (-72.43, -23.5)
  point P4 (-29.11, -29.11)
  point P5 (72.43, 23.5)
  point P6 (23.5, 72.43)
  point P7 (29.11, 29.11)
  dimension "d65" = 13
  dimension "d66" = 13
  dimension "d67" = 13
  dimension "d68" = 13
  dimension "d69" = 13
  dimension "d70" = 13
  dimension "d71" = 360
extrude "Выдавливание4" cut sketch "Эскиз12" against normal blind 10 contours L12 L14 L13 L17 L16 L15
extrude "Выдавливание5" add sketch "Эскиз11" against normal up to surface (3 mm away) contours A0
sketch "Эскиз14" plane through (0, 0, 0) normal (0, 0, -1) x (-1, 0, 0)
  line L0 (-11.9501, 37.5474) -> (-37.5474, 11.9501)
  line L1 (-37.5474, 11.9501) -> (11.9501, -37.5474)
  line L2 (11.9501, -37.5474) -> (37.5474, -11.9501)
  line L3 (37.5474, -11.9501) -> (-11.9501, 37.5474)
  line L4 (-11.9501, 37.5474) -> (11.9501, -37.5474) construction
  line L5 (-11.243, 32.5976) -> (32.5976, -11.243)
  line L6 (0, 0) -> (6.2542, 6.2542) construction
  circle A0 centre (-11.243, 32.5976) radius 1.5
  line L7 (0, 0) -> (-6.2542, 6.2542) construction
  line L8 (0, 0) -> (9.1217, 2.0506) construction
  circle A1 centre (-32.5976, 11.243) radius 1.5
  circle A2 centre (32.5976, -11.243) radius 1.5
  circle A3 centre (11.243, -32.5976) radius 1.5
  line L9 (-31, 78.7724) -> (31, 78.7724) construction
  line L10 (99.2724, 31) -> (78.7724, 31) construction
  line L11 (31, 78.7724) -> (78.7724, 31) construction
  point P0 (10.6773, 10.6773)
  point P1 (9.1217, 9.1217)
  dimension "d81" = 36.2
  dimension "d82" = 70
  dimension "d83" = 4
  dimension "d84" = 3
  dimension "d85" = 3
hole "Отверстие2" at (11.243, 32.5976, 0) at (32.5976, 11.243, 0) at (-32.5976, -11.243, 0) at (-11.243, -32.5976, 0) direction (0, 0, 1) diameter 3 end through all
sketch "Эскиз15" plane through (0, 0, 3) normal (0, 0, 1) x (1, 0, 0)
  circle A0 centre (124.1994, 64.0459) radius 3
  circle A1 centre (-31, -72.43) radius 1.5
  circle A2 centre (-72.43, -31) radius 1.5
  line L0 (-72.43, -31) -> (-31, -72.43)
  line L1 (-31, -72.43) -> (-36.2927, -77.7227)
  circle A3 centre (-36.2927, -77.7227) radius 2
  line L2 (164.6688, 164.6688) -> (-154.6363, -154.6363)
  circle A4 centre (-77.7227, -36.2927) radius 2
  point P0 (0, 0)
  point P1 (0, 0)
  point P2 (129.0863, 44.2024)
  dimension "d94" = 6
  dimension "d95" = 7.485
  dimension "d96" = 4
hole "Отверстие3" at (-77.7227, -36.2927, 3) at (-36.2927, -77.7227, 3) direction (0, 0, -1) diameter 6.5 end through all
sketch "Эскиз16" plane through (0, 0, 3) normal (0, 0, 1) x (1, 0, 0)
  circle A0 centre (49.1515, 117.5129) radius 1.65
  circle A1 centre (49.1515, 117.5129) radius 3.35
  circle A2 centre (3.9014, 156.8484) radius 1.65
  circle A3 centre (80, 152.9999) radius 1.65
  circle A4 centre (34.7499, 192.3354) radius 1.65
  circle A5 centre (41.9507, 154.9241) radius 41.494
  line L0 (45.9767, 118.5821) -> (51.7025, 119.6842)
  arc A6 (39.3031, 113.5146) -> (45.9767, 118.5821) centre (26.7374, 136.9912) ccw
  arc A7 (51.7025, 119.6842) -> (59.7803, 117.456) centre (62.7338, 143.9197) ccw
  arc A8 (78.4993, 155.995) -> (82.5887, 163.3089) centre (57.5919, 172.4852) ccw
  circle A9 centre (80, 152.9999) radius 3.35
  arc A10 (81.5355, 142.4824) -> (78.2048, 150.1715) centre (55.7405, 135.8747) ccw
  arc A11 (5.402, 153.8533) -> (1.3126, 146.5394) centre (26.3095, 137.3631) ccw
  circle A12 centre (3.9014, 156.8484) radius 3.35
  arc A13 (2.3659, 167.3659) -> (5.6965, 159.6768) centre (28.1609, 173.9736) ccw
  arc A14 (32.1989, 190.1641) -> (24.1211, 192.3923) centre (21.1675, 165.9286) ccw
  circle A15 centre (34.7499, 192.3354) radius 3.35
  arc A16 (44.5983, 196.3336) -> (37.9247, 191.2662) centre (57.1641, 172.8571) ccw
  line L1 (39.3031, 113.5146) -> (59.7803, 117.456) construction
  line L2 (-47.0226, -10.253) -> (10.253, 47.0226) construction
  line L3 (2.3659, 167.3659) -> (59.7803, 117.456) construction
  line L4 (24.121, 192.3922) -> (81.5355, 142.4824) construction
  line L5 (1.3126, 146.5394) -> (44.5983, 196.3336) construction
  line L6 (82.5887, 163.3089) -> (39.3031, 113.5146) construction
  circle A17 centre (41.9507, 154.9241) radius 38.0979 construction
  line L7 (45.9767, 118.5821) -> (46.9111, 113.7277) construction
  line L8 (78.2048, 150.1715) -> (78.4993, 155.995) construction
  line L9 (41.9507, 154.9241) -> (80, 152.9999) construction
  line L10 (41.9507, 154.9241) -> (34.7499, 192.3354) construction
  line L11 (41.9507, 154.9241) -> (3.9014, 156.8484) construction
  line L12 (5.6965, 159.6768) -> (5.402, 153.8533) construction
  line L13 (32.1989, 190.1641) -> (37.9247, 191.2662) construction
  line L14 (41.9507, 154.9241) -> (49.1515, 117.5129) construction
  circle A18 centre (-37.8224, 4.5736) radius 3.3
  circle A19 centre (-4.5736, 37.8224) radius 3.3
  circle A20 centre (4.5736, -37.8224) radius 3.3
  circle A21 centre (37.8224, -4.5736) radius 3.3
  circle A22 centre (16, -49.72) radius 3.3
  line L15 (-37.8224, 4.5736) -> (-4.5736, 37.8224) construction
  line L16 (4.5736, -37.8224) -> (37.8224, -4.5736) construction
  line L17 (-21.198, 21.198) -> (21.198, -21.198) construction
  line L18 (-4.5736, 37.8224) -> (37.8224, -4.5736) construction
  point P0 (0, 0)
  point P1 (0, 0)
  point P2 (-47.6168, 71.9305)
  point P3 (-60.3824, 55.6528)
  point P4 (-60.3824, 22.3934)
  point P5 (-47.6168, 6.1158)
  point P6 (2.7831, 6.1158)
  point P7 (15.5487, 22.3934)
  point P8 (15.2441, 55.8587)
  point P9 (2.9104, 71.5855)
  point P10 (0, 0)
  dimension "d106" = 82.9881
  dimension "d104" = 3.3
  dimension "d105" = 6.7
  dimension "d107" = 26.6279
  dimension "d108" = 20.4772
  dimension "d109" = 3.7148
  dimension "d110" = 33.1603
  dimension "d111" = 50.338
  dimension "d112" = 16.5802
  dimension "d113" = 25.169
  dimension "d114" = 10.4265
  dimension "d115" = 10.4265
  dimension "d116" = 10.4265
  dimension "d117" = 10.4265
  dimension "d118" = 10.4265
  dimension "d119" = 10.4265
  dimension "d120" = 59.957
  dimension "d121" = 47.021
hole "Отверстие4" at (-4.5736, 37.8224, 3) at (37.8224, -4.5736, 3) at (4.5736, -37.8224, 3) at (-37.8224, 4.5736, 3) direction (0, 0, -1) diameter 3 end through all
properties part number "floor-01"
